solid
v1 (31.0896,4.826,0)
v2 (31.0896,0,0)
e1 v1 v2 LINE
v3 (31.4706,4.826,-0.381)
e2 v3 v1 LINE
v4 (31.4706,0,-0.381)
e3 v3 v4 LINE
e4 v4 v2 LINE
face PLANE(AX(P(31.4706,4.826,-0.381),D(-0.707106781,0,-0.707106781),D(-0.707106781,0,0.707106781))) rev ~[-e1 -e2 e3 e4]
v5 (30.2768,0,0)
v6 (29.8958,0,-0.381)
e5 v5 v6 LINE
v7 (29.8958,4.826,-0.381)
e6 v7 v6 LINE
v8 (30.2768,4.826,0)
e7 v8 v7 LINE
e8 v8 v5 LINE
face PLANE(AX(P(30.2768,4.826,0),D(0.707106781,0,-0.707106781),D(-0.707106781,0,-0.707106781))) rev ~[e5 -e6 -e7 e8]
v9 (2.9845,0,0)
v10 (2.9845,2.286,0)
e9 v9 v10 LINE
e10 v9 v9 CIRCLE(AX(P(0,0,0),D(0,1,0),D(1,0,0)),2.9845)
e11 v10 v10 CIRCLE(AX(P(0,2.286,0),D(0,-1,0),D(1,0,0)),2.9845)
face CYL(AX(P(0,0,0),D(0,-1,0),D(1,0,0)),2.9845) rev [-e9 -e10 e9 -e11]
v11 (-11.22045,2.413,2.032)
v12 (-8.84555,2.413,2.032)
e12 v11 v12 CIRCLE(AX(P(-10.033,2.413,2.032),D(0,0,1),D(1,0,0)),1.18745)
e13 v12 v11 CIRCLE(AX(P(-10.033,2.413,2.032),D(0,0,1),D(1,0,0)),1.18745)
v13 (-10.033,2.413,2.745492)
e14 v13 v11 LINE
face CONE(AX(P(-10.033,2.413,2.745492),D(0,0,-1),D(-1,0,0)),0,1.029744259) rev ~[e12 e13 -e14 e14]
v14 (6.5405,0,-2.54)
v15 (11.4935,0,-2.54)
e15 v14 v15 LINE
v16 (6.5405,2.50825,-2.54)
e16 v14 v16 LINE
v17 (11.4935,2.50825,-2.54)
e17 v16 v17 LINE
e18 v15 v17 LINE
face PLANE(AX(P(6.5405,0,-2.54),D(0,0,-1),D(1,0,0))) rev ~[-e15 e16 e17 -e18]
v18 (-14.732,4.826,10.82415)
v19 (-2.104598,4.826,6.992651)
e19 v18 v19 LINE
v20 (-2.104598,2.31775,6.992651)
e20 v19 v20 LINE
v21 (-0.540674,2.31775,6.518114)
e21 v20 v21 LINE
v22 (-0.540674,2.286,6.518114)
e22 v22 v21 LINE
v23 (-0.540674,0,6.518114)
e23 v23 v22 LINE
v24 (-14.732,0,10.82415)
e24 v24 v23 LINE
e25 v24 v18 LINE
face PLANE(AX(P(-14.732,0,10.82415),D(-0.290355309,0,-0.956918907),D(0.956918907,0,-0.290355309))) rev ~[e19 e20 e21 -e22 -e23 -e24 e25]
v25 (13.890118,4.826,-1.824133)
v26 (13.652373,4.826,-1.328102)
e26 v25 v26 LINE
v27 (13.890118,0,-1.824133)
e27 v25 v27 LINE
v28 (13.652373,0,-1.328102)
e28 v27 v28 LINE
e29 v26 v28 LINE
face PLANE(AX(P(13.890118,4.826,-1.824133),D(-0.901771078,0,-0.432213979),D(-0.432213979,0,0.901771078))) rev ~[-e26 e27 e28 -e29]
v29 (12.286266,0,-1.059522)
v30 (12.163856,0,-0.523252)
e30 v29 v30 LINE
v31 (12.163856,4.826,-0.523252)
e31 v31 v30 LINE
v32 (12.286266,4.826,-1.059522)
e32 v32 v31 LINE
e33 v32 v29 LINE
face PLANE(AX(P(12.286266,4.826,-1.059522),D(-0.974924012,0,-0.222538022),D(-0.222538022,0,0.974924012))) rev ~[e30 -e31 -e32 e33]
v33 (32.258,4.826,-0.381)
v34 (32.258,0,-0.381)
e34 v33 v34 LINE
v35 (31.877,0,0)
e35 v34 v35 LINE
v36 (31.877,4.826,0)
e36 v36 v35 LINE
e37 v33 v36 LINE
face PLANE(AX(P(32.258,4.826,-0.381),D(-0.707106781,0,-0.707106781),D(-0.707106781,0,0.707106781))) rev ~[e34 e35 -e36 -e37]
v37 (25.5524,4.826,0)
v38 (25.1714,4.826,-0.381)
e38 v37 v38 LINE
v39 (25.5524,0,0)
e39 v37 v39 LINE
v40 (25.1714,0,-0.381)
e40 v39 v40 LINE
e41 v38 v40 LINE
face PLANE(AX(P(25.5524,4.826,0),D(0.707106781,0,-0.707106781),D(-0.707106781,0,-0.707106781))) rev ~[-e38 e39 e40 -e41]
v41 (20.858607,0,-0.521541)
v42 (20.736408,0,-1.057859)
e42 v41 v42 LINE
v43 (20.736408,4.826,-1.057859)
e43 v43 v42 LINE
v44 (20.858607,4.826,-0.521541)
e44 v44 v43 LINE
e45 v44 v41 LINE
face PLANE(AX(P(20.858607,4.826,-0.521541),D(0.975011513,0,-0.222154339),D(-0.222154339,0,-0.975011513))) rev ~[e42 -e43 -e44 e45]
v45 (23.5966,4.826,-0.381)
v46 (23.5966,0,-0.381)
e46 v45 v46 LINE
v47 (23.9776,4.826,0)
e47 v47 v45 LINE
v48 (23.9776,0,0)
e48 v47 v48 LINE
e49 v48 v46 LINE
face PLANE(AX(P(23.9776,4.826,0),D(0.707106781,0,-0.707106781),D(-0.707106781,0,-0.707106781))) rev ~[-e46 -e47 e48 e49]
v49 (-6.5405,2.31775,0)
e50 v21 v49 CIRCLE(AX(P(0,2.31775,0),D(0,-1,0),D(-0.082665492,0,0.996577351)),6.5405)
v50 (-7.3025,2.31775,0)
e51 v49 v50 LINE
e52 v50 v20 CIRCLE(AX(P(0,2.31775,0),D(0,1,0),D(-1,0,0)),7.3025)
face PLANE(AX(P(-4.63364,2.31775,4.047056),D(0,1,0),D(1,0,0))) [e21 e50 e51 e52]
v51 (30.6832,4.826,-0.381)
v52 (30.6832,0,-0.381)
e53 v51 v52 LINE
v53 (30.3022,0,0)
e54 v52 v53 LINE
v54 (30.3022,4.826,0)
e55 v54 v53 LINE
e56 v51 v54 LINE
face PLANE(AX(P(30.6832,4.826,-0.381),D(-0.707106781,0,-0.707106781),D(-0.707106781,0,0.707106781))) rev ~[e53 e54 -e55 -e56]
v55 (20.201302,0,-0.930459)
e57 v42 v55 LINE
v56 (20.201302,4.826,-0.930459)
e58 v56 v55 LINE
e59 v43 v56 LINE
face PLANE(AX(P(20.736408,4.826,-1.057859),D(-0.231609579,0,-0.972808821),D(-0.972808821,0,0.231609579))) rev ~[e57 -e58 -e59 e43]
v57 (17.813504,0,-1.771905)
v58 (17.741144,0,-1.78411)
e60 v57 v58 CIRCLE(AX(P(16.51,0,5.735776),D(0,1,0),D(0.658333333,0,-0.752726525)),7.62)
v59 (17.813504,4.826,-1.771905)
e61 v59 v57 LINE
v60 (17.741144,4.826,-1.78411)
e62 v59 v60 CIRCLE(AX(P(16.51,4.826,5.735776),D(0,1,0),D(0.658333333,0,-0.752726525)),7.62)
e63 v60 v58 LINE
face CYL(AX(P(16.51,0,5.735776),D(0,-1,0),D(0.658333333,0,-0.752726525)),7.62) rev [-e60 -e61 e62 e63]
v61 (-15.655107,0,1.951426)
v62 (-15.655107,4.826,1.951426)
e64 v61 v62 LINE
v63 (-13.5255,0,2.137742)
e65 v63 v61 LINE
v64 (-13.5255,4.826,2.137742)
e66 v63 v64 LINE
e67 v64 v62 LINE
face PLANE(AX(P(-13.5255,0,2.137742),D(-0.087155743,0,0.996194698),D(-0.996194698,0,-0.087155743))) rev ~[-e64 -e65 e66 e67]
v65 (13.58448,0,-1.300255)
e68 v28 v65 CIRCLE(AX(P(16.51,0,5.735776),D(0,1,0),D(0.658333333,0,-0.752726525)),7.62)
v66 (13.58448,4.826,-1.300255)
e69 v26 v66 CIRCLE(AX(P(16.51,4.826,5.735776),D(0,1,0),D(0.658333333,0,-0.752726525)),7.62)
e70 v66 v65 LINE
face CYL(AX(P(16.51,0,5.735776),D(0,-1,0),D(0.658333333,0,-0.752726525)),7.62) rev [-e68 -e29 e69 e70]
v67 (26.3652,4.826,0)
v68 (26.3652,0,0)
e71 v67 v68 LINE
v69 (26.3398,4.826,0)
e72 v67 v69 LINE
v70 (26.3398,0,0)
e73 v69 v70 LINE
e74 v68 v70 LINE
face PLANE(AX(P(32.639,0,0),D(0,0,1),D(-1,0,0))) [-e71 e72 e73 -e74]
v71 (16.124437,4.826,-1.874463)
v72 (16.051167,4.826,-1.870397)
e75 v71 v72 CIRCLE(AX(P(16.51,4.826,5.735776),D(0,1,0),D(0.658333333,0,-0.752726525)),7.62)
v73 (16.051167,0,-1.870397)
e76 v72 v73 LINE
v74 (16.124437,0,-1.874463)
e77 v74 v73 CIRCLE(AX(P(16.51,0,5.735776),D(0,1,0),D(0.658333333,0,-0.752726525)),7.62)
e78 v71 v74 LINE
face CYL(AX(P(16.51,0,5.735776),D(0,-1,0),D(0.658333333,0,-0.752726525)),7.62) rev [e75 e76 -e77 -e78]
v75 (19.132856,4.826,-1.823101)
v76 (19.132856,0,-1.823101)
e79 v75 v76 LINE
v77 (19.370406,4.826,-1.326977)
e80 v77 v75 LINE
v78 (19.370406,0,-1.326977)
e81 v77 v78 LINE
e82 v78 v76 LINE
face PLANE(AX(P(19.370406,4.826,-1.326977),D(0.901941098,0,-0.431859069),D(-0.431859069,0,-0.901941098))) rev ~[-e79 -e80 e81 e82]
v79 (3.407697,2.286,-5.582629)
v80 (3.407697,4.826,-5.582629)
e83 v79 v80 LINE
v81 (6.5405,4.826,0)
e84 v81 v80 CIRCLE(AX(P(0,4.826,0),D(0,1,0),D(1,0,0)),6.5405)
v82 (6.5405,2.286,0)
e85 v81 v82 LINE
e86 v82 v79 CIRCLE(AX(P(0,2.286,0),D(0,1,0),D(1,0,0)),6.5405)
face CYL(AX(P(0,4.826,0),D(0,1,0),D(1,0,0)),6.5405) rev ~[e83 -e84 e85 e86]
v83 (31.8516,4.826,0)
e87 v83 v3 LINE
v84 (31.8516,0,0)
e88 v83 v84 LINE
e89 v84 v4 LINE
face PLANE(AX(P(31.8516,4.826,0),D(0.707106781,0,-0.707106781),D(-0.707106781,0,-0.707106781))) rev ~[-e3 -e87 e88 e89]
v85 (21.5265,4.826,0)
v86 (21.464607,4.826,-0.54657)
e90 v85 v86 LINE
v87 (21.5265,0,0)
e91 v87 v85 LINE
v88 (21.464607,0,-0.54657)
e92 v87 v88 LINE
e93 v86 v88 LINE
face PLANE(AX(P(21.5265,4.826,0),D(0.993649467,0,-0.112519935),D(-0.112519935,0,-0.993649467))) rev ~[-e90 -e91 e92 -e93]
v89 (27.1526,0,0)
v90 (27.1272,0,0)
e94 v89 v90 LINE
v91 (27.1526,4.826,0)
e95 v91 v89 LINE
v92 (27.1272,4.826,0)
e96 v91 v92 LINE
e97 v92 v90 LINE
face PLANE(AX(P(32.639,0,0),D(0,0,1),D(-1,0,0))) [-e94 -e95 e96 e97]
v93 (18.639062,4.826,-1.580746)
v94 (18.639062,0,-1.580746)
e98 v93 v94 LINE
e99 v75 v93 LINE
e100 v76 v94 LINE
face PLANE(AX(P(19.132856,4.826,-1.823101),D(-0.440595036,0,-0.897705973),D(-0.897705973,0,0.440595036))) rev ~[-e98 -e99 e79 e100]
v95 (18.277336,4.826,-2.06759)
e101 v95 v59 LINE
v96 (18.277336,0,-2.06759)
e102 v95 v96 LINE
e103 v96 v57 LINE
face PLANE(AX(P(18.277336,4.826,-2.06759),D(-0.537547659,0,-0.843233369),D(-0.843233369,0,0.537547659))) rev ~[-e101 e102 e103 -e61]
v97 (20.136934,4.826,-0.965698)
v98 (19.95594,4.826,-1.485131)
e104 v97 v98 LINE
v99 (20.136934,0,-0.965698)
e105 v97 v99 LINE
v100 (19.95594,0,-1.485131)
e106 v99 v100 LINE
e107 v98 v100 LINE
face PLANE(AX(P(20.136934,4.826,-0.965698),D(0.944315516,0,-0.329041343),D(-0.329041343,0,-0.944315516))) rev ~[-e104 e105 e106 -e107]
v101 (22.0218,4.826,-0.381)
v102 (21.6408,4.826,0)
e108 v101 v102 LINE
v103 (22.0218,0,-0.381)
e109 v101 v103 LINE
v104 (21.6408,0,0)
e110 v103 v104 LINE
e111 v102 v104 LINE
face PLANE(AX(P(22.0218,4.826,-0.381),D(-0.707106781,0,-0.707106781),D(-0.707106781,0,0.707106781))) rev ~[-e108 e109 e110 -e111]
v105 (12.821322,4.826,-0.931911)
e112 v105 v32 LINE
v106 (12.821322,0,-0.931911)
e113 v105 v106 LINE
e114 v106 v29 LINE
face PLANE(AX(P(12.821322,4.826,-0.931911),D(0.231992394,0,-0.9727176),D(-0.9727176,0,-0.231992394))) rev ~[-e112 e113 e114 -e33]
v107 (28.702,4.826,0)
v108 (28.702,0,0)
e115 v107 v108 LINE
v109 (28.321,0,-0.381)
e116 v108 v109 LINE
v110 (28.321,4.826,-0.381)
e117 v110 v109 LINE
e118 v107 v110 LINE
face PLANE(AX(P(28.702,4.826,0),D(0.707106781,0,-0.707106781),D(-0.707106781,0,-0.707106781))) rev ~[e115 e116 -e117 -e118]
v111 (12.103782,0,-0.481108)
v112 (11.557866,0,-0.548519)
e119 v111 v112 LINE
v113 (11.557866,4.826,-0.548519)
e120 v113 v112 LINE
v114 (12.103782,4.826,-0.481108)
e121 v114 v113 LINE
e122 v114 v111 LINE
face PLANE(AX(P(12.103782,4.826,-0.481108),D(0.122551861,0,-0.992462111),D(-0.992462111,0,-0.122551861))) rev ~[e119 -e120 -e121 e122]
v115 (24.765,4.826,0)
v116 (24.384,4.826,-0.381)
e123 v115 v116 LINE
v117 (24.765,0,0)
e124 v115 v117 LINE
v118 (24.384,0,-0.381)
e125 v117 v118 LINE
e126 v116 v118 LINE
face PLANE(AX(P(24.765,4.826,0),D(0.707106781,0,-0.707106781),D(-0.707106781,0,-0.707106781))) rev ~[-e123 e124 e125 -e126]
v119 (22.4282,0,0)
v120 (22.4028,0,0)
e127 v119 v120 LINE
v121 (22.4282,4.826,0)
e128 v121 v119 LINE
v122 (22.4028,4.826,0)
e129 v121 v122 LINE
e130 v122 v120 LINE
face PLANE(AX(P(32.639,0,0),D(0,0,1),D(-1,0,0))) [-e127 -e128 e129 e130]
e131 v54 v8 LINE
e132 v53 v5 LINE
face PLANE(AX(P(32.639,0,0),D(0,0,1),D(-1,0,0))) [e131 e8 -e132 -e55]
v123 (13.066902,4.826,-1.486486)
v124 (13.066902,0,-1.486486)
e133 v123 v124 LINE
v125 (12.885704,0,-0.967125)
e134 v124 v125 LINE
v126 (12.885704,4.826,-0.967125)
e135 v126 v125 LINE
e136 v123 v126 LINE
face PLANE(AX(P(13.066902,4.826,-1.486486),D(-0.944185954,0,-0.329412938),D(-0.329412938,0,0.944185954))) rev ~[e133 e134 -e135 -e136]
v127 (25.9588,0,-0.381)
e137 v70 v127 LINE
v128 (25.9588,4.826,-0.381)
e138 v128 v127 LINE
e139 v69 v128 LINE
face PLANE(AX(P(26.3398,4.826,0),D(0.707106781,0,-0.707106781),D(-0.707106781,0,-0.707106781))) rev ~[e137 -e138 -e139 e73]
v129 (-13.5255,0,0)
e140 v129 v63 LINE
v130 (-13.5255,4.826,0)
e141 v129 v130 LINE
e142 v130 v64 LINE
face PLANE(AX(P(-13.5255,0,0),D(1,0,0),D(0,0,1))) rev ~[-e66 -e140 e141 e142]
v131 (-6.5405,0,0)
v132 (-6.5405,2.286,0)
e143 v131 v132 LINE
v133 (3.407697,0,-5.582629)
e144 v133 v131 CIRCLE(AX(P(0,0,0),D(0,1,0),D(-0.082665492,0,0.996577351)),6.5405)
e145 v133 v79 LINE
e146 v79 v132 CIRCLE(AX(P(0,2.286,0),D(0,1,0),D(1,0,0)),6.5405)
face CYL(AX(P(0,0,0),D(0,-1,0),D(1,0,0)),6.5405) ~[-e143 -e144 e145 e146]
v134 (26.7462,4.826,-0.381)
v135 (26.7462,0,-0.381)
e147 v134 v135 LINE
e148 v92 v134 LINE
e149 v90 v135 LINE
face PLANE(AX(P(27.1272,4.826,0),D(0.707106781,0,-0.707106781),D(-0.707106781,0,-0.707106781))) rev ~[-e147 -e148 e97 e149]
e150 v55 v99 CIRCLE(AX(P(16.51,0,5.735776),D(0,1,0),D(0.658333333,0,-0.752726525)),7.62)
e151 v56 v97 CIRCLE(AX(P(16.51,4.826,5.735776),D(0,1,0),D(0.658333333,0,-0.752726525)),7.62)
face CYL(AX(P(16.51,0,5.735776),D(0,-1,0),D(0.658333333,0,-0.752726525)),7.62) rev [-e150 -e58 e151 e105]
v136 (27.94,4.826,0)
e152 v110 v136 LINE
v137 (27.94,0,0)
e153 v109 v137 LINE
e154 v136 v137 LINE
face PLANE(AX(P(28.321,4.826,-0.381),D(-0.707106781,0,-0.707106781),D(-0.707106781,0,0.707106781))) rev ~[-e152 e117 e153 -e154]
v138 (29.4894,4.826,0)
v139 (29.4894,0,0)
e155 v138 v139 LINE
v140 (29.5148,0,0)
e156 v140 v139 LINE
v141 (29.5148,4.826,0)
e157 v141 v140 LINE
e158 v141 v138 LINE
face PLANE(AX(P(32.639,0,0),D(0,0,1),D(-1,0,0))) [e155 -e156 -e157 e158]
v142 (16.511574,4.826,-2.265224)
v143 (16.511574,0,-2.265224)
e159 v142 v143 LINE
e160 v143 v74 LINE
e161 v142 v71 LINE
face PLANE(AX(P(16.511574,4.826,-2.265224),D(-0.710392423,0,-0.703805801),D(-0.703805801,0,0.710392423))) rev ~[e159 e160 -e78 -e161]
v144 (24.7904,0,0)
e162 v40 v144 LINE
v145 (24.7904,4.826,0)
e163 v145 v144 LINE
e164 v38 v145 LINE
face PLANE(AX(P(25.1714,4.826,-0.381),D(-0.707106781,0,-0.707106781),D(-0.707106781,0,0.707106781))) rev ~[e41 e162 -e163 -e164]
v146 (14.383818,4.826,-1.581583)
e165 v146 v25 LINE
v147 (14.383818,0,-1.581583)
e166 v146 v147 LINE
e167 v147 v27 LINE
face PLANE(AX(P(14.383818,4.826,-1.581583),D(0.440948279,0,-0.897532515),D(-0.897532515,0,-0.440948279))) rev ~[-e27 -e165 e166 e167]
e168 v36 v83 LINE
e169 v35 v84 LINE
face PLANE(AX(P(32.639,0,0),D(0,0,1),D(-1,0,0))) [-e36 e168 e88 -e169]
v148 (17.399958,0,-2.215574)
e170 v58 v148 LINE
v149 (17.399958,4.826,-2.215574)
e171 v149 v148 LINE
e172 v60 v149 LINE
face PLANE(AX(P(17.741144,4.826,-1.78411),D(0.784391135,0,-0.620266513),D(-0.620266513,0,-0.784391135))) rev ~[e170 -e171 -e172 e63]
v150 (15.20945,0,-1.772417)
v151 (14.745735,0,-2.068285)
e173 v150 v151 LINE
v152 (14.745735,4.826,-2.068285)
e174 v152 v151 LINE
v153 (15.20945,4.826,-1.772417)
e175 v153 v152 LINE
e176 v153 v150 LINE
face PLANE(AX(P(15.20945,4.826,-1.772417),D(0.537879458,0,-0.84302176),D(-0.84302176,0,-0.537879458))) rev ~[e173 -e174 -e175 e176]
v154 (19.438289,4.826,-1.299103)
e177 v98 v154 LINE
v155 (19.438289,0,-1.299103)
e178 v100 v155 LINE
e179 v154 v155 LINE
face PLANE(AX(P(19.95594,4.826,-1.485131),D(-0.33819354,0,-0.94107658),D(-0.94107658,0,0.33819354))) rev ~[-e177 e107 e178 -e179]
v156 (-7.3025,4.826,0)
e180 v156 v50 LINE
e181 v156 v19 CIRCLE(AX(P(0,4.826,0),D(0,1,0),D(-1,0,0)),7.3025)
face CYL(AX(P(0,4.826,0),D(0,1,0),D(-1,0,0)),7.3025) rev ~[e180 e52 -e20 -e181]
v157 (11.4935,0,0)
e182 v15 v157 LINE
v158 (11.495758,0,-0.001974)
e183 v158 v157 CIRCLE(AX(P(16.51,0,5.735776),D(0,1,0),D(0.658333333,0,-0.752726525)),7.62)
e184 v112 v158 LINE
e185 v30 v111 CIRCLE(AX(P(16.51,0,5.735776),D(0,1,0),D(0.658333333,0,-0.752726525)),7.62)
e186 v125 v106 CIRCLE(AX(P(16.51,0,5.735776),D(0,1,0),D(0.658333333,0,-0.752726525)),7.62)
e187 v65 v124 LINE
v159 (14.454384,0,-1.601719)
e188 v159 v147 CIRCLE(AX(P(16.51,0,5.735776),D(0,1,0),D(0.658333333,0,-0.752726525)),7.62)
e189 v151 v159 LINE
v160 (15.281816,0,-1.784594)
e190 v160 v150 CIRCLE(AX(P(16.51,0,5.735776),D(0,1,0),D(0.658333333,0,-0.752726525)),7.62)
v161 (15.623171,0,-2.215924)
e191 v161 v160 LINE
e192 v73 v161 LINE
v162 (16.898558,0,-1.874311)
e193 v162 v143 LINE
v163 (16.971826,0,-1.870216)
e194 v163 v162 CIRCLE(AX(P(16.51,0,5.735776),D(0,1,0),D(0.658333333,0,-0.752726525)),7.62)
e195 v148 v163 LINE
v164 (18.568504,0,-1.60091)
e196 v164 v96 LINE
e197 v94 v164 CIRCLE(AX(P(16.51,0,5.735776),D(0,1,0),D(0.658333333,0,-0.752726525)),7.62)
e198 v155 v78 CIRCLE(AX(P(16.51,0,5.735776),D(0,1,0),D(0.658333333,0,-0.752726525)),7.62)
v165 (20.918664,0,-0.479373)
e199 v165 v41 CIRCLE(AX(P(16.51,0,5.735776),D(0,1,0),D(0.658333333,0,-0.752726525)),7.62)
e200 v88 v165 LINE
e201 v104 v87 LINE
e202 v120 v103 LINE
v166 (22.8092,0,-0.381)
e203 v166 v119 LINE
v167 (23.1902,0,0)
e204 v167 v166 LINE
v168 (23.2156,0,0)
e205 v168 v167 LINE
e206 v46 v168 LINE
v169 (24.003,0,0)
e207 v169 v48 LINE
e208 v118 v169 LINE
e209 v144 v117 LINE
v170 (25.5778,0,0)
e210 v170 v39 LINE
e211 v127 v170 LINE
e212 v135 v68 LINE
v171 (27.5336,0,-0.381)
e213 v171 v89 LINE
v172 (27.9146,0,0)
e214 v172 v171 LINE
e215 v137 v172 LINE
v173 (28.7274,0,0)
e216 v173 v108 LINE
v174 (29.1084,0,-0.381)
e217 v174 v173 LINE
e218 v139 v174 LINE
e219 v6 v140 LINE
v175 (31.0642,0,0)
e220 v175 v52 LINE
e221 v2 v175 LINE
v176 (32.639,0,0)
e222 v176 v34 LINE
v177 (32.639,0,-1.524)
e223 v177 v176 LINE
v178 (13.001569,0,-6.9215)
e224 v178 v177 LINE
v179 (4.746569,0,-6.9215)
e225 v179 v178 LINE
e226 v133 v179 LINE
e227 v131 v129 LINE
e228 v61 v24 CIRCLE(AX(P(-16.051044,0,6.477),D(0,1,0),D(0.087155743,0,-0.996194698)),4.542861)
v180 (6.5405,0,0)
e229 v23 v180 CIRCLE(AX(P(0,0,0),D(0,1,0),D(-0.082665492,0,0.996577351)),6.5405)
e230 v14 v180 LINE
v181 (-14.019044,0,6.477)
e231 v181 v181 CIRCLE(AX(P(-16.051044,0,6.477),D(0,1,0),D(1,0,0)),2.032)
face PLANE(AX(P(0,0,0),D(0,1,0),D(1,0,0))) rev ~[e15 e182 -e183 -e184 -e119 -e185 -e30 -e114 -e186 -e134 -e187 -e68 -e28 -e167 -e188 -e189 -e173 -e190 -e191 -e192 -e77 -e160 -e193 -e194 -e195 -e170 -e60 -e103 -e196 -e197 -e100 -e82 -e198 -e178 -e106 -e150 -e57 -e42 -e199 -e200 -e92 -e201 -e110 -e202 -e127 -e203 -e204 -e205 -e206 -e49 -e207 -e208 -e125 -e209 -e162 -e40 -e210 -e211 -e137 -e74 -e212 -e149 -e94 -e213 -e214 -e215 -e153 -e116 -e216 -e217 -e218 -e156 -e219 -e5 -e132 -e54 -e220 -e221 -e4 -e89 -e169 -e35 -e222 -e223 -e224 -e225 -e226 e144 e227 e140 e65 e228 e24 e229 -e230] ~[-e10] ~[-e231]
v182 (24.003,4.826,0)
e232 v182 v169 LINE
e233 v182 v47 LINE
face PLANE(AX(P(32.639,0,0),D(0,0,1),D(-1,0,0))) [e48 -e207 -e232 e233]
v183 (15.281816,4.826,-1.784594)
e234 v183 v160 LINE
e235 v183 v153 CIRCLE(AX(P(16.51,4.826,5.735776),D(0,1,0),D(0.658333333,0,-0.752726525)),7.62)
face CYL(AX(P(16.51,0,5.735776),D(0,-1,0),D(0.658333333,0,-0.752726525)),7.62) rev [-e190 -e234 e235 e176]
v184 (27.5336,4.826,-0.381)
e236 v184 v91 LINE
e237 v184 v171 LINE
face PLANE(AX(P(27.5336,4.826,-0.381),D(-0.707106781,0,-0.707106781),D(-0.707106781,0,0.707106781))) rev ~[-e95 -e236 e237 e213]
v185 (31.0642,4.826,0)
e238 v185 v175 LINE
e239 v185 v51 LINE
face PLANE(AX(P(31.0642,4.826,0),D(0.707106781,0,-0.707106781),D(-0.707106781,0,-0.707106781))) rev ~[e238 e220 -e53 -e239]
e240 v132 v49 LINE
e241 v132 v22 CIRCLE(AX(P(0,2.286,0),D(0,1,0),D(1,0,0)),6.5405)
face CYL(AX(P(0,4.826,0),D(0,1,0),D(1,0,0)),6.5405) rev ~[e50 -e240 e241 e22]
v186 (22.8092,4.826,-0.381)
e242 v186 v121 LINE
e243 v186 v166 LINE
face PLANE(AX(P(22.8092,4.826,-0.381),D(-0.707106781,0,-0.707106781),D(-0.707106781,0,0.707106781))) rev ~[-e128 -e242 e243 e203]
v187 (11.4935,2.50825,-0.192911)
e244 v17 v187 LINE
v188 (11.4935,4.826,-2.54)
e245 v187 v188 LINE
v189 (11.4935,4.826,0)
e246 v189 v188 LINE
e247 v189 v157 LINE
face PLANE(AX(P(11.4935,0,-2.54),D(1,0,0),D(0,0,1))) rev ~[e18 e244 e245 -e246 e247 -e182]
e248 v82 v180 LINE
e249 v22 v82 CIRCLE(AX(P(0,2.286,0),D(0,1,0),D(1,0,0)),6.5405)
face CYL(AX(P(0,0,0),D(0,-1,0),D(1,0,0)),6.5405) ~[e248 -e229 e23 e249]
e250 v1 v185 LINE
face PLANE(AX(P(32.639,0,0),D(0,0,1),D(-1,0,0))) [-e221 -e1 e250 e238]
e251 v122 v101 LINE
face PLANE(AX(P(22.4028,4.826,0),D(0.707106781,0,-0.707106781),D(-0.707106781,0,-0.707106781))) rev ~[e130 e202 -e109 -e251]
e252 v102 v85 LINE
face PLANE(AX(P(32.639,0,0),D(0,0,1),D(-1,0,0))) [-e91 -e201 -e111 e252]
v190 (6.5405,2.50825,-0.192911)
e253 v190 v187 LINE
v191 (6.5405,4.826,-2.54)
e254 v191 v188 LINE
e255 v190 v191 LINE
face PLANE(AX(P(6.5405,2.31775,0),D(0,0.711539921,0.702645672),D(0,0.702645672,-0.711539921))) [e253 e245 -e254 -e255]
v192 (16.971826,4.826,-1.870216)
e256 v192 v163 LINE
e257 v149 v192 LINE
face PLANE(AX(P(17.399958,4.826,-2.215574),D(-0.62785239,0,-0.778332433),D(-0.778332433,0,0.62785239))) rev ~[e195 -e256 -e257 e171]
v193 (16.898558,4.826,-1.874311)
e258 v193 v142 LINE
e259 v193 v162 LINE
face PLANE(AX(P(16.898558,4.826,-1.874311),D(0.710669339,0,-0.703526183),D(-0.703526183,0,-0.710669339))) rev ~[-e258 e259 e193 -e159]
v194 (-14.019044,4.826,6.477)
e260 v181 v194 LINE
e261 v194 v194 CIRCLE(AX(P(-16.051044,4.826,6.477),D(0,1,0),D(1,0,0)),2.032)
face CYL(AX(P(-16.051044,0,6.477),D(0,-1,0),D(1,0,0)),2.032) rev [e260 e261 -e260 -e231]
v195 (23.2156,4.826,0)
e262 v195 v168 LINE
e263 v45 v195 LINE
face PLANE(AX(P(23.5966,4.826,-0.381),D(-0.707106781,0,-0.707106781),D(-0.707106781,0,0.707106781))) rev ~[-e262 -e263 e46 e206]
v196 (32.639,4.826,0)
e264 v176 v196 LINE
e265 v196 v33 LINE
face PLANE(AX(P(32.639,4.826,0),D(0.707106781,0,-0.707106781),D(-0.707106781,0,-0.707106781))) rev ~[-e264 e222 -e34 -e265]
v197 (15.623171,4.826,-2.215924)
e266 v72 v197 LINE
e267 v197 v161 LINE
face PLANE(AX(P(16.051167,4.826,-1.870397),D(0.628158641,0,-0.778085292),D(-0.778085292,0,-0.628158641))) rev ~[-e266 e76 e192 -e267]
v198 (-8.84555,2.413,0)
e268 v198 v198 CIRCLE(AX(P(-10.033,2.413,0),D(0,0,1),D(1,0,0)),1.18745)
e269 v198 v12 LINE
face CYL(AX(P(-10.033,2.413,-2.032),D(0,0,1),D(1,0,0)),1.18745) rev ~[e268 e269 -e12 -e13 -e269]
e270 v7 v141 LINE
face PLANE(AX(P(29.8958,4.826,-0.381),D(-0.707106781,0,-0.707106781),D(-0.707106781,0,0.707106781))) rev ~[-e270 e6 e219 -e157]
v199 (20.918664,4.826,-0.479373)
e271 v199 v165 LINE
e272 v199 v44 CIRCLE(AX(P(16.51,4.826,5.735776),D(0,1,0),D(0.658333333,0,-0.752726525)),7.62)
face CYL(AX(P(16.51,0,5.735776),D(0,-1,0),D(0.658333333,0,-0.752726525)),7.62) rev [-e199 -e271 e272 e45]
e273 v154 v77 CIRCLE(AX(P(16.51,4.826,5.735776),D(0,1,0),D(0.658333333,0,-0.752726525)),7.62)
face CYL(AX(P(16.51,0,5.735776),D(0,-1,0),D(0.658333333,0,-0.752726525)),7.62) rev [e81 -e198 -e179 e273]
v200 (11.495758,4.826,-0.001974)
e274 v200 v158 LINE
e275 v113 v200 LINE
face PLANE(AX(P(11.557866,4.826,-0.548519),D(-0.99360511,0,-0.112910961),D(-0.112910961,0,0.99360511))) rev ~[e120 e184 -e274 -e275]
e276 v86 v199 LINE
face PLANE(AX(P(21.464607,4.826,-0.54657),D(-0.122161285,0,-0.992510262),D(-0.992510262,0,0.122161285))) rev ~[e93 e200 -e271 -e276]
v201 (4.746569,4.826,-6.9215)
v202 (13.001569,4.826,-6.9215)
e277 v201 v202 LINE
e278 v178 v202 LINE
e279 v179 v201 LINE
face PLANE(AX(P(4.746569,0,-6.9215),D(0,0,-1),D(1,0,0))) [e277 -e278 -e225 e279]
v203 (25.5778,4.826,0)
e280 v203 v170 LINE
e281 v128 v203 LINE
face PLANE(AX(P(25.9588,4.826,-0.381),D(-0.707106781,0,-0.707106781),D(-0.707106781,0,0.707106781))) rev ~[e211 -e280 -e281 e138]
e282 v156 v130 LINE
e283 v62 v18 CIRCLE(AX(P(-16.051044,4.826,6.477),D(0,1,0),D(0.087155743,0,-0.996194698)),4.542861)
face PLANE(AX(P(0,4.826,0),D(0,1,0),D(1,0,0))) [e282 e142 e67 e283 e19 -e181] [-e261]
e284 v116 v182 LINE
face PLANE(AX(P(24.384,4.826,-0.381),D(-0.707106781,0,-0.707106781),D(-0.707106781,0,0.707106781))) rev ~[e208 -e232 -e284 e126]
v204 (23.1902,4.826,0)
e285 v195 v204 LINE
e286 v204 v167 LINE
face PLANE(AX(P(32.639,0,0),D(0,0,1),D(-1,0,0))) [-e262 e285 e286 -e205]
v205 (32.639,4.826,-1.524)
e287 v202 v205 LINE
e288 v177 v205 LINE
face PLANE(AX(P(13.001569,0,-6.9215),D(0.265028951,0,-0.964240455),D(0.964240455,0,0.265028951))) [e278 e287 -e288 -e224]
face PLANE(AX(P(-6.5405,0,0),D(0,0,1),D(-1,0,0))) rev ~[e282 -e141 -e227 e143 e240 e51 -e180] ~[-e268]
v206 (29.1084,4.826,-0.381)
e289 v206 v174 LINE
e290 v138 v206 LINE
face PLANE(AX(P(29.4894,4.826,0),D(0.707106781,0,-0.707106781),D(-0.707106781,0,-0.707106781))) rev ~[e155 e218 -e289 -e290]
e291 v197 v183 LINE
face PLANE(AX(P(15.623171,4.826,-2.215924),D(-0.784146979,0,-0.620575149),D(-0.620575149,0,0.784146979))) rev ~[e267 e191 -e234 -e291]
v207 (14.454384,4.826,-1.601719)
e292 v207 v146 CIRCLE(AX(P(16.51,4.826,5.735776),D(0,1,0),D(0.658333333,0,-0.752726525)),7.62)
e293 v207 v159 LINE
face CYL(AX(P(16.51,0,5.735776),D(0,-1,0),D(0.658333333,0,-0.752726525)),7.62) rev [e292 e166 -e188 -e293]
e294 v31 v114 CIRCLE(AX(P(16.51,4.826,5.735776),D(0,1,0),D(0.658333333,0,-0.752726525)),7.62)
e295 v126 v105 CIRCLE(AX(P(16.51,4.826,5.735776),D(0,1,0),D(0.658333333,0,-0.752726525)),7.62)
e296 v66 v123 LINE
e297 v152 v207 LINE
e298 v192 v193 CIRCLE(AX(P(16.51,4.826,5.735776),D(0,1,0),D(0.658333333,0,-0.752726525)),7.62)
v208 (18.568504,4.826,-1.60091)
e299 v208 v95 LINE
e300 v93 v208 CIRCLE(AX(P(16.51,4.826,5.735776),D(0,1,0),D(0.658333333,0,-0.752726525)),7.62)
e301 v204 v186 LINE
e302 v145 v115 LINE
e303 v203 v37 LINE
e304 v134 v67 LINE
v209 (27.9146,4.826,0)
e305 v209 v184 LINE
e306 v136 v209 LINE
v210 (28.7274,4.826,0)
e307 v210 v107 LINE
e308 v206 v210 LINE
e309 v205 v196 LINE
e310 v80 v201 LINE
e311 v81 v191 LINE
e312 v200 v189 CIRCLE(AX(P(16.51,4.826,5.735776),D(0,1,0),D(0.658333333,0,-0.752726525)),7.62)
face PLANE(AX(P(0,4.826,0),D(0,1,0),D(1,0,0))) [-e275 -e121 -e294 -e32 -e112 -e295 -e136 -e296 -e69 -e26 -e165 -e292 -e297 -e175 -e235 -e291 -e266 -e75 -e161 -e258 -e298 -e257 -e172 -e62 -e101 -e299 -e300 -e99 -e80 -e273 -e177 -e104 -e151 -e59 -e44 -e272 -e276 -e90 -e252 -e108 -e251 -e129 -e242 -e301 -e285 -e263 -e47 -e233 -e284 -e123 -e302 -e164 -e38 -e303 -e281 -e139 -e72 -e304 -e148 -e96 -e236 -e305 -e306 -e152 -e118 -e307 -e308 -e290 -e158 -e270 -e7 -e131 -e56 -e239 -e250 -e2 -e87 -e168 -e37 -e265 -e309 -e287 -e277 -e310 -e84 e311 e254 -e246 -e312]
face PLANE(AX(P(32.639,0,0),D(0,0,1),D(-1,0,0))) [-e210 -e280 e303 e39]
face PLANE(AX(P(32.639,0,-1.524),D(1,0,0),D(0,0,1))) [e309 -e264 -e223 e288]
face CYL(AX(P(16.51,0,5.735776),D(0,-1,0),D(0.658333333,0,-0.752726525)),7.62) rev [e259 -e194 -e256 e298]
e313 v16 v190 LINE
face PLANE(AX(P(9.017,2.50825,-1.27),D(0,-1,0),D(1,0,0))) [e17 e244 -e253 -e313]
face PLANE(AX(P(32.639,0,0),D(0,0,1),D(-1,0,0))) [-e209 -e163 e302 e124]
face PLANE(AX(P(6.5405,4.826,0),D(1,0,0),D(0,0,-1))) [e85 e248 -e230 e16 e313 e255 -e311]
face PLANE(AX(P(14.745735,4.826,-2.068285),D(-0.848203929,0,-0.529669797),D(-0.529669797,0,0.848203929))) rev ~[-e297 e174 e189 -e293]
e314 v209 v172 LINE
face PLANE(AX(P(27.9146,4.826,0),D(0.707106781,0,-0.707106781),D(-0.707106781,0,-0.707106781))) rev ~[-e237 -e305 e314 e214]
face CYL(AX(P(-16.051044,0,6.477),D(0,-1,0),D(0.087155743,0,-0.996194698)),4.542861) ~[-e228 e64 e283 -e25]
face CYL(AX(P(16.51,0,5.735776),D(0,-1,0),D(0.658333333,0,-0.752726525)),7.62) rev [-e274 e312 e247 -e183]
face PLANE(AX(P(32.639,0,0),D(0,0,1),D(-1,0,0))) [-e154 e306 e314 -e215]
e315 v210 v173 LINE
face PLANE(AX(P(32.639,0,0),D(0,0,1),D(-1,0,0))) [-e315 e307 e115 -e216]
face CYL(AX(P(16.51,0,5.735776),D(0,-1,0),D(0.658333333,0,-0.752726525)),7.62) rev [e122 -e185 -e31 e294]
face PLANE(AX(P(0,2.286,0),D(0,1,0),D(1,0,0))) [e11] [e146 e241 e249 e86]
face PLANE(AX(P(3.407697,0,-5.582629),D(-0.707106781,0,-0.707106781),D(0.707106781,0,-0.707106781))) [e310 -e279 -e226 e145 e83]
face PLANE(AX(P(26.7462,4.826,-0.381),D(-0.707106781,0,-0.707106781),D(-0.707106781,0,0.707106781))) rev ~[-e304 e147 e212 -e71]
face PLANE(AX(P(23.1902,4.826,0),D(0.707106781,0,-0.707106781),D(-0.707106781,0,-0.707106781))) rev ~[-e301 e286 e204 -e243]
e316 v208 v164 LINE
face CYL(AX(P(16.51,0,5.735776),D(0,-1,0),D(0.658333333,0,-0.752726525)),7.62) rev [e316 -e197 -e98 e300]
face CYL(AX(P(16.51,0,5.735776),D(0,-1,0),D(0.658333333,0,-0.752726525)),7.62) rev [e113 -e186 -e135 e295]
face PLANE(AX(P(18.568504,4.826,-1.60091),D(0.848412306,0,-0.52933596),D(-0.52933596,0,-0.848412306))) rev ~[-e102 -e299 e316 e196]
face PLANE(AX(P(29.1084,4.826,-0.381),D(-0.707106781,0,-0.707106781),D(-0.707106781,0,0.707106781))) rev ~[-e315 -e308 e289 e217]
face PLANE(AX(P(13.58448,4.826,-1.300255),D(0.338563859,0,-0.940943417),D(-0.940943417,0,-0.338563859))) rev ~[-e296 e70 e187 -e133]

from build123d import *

# Parameters (mm, degrees)
SKETCH1_R                        = 6.5405
SKETCH1_R_2                      = 2.9845
BOSS_EXTRUDE1_DEPTH              = 4.826
SKETCH2_R                        = 2.032
BOSS_EXTRUDE2_DEPTH              = 4.826
F_42_0_0935_DIAMETER_HOLE1_D     = 2.3749
F_42_0_0935_DIAMETER_HOLE1_DEPTH = 2.032
F_42_0_0935_DIAMETER_HOLE1_TIP   = 0.713491942
BOSS_EXTRUDE3_DEPTH              = 4.826
CUT_EXTRUDE1_DEPTH               = 2.50825
CUT_EXTRUDE2_DEPTH               = 5.826
LPATTERN1_COUNT                  = 14
LPATTERN1_PITCH                  = 0.7874
CUT_EXTRUDE3_DEPTH               = 5.826
CIRPATTERN1_COUNT                = 13
CIRPATTERN1_ANGLE                = 76.5
SKETCH13_W                       = 4.953
SKETCH13_H                       = 2.54
CUT_EXTRUDE5_DEPTH               = 2.50825
BOSS_EXTRUDE4_REACH              = 28.099
SKETCH15_W                       = 4.953
SKETCH15_H                       = 2.54
CUT_EXTRUDE6_DEPTH               = 2.50825
SKETCH16_R                       = 6.5405
CUT_EXTRUDE7_DEPTH               = 2.54


with BuildPart() as part:
    # Sketch1 → Boss-Extrude1 (new body)
    with BuildSketch(Plane(origin=(0, 0, 0), x_dir=(1, 0, 0), z_dir=(0, 1, 0))):
        Circle(SKETCH1_R)
        Circle(SKETCH1_R_2, mode=Mode.SUBTRACT)
    extrude(amount=BOSS_EXTRUDE1_DEPTH)

    # Sketch2 → Boss-Extrude2 (add)
    with BuildSketch(Plane(origin=(0, 0, 0), x_dir=(1, 0, 0), z_dir=(0, 1, 0))):
        with BuildLine():
            Line((-6.5405, 0), (-13.5255, 0))
            Line((-13.5255, 0), (-13.5255, -2.137742196))
            Line((-13.5255, -2.137742196), (-15.655107442, -1.951425687))
            ThreePointArc((-15.655107442, -1.951425687), (-20.569516848, -6.947096437), (-14.732, -10.824149842))
            Line((-14.732, -10.824149842), (-0.540673648, -6.518114164))
            ThreePointArc((-0.540673648, -6.518114164), (-4.812193691, -4.429552136), (-6.5405, 0))
        make_face()
        with Locations((-16.05104389, -6.477)):
            Circle(SKETCH2_R, mode=Mode.SUBTRACT)
    extrude(amount=BOSS_EXTRUDE2_DEPTH)

    # #42 (0.0935) Diameter Hole1
    with Locations(Plane(origin=(0, 0, 0), x_dir=(-1, 0, 0), z_dir=(0, 0, -1))):
        with Locations((10.033, 2.413)):
            Hole(F_42_0_0935_DIAMETER_HOLE1_D / 2, depth=F_42_0_0935_DIAMETER_HOLE1_DEPTH)
            with Locations((0, 0, -(F_42_0_0935_DIAMETER_HOLE1_DEPTH + F_42_0_0935_DIAMETER_HOLE1_TIP / 2))):  # 118° drill point
                Cone(0, F_42_0_0935_DIAMETER_HOLE1_D / 2, F_42_0_0935_DIAMETER_HOLE1_TIP, mode=Mode.SUBTRACT)

    # Sketch8 → Boss-Extrude3 (add)
    with BuildSketch(Plane(origin=(0, 0, 0), x_dir=(1, 0, 0), z_dir=(0, 1, 0))):
        with BuildLine():
            Line((13.001568547, 6.9215), (32.639, 1.524))
            Line((32.639, 1.524), (32.639, 0))
            Line((32.639, 0), (21.5265, 0))
            ThreePointArc((21.5265, 0), (16.51, 1.884223876), (11.4935, 0))
            Line((11.4935, 0), (6.5405, 0))
            ThreePointArc((6.5405, 0), (5.703778696, 3.200788783), (3.407697053, 5.582628507))
            Line((3.407697053, 5.582628507), (4.746568547, 6.9215))
            Line((4.746568547, 6.9215), (13.001568547, 6.9215))
        make_face()
    extrude(amount=BOSS_EXTRUDE3_DEPTH)

    # Sketch9 → Cut-Extrude1 (cut)
    with BuildSketch(Plane(origin=(0, 4.826, 0), x_dir=(1, 0, 0), z_dir=(0, 1, 0))):
        with BuildLine():
            ThreePointArc((-7.3025, 0), (-5.860688184, -4.356471079), (-2.10459784, -6.992651442))
            Line((-2.10459784, -6.992651442), (-0.540673648, -6.518114164))
            ThreePointArc((-0.540673648, -6.518114164), (-4.812193691, -4.429552136), (-6.5405, 0))
            Line((-6.5405, 0), (-7.3025, 0))
        make_face()
    extrude(amount=-CUT_EXTRUDE1_DEPTH, mode=Mode.SUBTRACT)

    # Sketch10 → Cut-Extrude2 (cut, through all)
    with BuildSketch(Plane(origin=(0, 4.826, 0), x_dir=(1, 0, 0), z_dir=(0, 1, 0))):
        Polygon((32.639, 0), (32.258, 0.381), (31.877, 0), align=None)
    cut_extrude2 = extrude(amount=-CUT_EXTRUDE2_DEPTH, mode=Mode.SUBTRACT)

    # LPattern1: Cut-Extrude2 ×14
    with Locations(*[(-i * LPATTERN1_PITCH, 0, 0) for i in range(1, LPATTERN1_COUNT)]):
        add(cut_extrude2, mode=Mode.SUBTRACT)

    # Sketch11 → Cut-Extrude3 (cut, through all)
    with BuildSketch(Plane(origin=(0, 4.826, 0), x_dir=(1, 0, 0), z_dir=(0, 1, 0))):
        with BuildLine():
            Line((21.5265, 0), (21.464606941, 0.546569859))
            Line((21.464606941, 0.546569859), (20.918663717, 0.47937345))
            ThreePointArc((20.918663717, 0.47937345), (21.228673277, 0.247410527), (21.5265, 0))
        make_face()
    cut_extrude3 = extrude(amount=-CUT_EXTRUDE3_DEPTH, mode=Mode.SUBTRACT)

    # CirPattern1: Cut-Extrude3 ×13 about axis
    cirpattern1_axis = Axis((16.51, 0, 5.735776124), (0, 1, 0))
    for i in range(1, CIRPATTERN1_COUNT):
        add(cut_extrude3.rotate(cirpattern1_axis, i * CIRPATTERN1_ANGLE / (CIRPATTERN1_COUNT - 1)), mode=Mode.SUBTRACT)

    # Sketch13 → Cut-Extrude5 (cut)
    with BuildSketch(Plane(origin=(0, 4.826, 0), x_dir=(1, 0, 0), z_dir=(0, 1, 0))):
        with Locations((9.017, 1.27)):
            Rectangle(SKETCH13_W, SKETCH13_H)
    extrude(amount=-CUT_EXTRUDE5_DEPTH, mode=Mode.SUBTRACT)

    # Sketch14 → Boss-Extrude4 (add, up to next)
    with BuildSketch(Plane(origin=(6.5405, 0, 0), x_dir=(0, 0, -1), z_dir=(1, 0, 0)), mode=Mode.PRIVATE) as boss_extrude4_sk1:
        Polygon((0, 2.31775), (2.54, 4.826), (2.54, 2.31775), align=None)
    boss_extrude4_tool1 = extrude(boss_extrude4_sk1.sketch, amount=BOSS_EXTRUDE4_REACH, mode=Mode.PRIVATE) - part.part
    add(boss_extrude4_tool1.solids().sort_by_distance((6.5405, 3.153833, -1.693333))[0])

    # Sketch15 → Cut-Extrude6 (cut)
    with BuildSketch(Plane.XZ):
        with Locations((9.017, -1.27)):
            Rectangle(SKETCH15_W, SKETCH15_H)
    extrude(amount=-CUT_EXTRUDE6_DEPTH, mode=Mode.SUBTRACT)

    # Sketch16 → Cut-Extrude7 (cut)
    with BuildSketch(Plane(origin=(0, 4.826, 0), x_dir=(1, 0, 0), z_dir=(0, 1, 0))):
        Circle(SKETCH16_R)
    extrude(amount=-CUT_EXTRUDE7_DEPTH, mode=Mode.SUBTRACT)


solid = part.part
